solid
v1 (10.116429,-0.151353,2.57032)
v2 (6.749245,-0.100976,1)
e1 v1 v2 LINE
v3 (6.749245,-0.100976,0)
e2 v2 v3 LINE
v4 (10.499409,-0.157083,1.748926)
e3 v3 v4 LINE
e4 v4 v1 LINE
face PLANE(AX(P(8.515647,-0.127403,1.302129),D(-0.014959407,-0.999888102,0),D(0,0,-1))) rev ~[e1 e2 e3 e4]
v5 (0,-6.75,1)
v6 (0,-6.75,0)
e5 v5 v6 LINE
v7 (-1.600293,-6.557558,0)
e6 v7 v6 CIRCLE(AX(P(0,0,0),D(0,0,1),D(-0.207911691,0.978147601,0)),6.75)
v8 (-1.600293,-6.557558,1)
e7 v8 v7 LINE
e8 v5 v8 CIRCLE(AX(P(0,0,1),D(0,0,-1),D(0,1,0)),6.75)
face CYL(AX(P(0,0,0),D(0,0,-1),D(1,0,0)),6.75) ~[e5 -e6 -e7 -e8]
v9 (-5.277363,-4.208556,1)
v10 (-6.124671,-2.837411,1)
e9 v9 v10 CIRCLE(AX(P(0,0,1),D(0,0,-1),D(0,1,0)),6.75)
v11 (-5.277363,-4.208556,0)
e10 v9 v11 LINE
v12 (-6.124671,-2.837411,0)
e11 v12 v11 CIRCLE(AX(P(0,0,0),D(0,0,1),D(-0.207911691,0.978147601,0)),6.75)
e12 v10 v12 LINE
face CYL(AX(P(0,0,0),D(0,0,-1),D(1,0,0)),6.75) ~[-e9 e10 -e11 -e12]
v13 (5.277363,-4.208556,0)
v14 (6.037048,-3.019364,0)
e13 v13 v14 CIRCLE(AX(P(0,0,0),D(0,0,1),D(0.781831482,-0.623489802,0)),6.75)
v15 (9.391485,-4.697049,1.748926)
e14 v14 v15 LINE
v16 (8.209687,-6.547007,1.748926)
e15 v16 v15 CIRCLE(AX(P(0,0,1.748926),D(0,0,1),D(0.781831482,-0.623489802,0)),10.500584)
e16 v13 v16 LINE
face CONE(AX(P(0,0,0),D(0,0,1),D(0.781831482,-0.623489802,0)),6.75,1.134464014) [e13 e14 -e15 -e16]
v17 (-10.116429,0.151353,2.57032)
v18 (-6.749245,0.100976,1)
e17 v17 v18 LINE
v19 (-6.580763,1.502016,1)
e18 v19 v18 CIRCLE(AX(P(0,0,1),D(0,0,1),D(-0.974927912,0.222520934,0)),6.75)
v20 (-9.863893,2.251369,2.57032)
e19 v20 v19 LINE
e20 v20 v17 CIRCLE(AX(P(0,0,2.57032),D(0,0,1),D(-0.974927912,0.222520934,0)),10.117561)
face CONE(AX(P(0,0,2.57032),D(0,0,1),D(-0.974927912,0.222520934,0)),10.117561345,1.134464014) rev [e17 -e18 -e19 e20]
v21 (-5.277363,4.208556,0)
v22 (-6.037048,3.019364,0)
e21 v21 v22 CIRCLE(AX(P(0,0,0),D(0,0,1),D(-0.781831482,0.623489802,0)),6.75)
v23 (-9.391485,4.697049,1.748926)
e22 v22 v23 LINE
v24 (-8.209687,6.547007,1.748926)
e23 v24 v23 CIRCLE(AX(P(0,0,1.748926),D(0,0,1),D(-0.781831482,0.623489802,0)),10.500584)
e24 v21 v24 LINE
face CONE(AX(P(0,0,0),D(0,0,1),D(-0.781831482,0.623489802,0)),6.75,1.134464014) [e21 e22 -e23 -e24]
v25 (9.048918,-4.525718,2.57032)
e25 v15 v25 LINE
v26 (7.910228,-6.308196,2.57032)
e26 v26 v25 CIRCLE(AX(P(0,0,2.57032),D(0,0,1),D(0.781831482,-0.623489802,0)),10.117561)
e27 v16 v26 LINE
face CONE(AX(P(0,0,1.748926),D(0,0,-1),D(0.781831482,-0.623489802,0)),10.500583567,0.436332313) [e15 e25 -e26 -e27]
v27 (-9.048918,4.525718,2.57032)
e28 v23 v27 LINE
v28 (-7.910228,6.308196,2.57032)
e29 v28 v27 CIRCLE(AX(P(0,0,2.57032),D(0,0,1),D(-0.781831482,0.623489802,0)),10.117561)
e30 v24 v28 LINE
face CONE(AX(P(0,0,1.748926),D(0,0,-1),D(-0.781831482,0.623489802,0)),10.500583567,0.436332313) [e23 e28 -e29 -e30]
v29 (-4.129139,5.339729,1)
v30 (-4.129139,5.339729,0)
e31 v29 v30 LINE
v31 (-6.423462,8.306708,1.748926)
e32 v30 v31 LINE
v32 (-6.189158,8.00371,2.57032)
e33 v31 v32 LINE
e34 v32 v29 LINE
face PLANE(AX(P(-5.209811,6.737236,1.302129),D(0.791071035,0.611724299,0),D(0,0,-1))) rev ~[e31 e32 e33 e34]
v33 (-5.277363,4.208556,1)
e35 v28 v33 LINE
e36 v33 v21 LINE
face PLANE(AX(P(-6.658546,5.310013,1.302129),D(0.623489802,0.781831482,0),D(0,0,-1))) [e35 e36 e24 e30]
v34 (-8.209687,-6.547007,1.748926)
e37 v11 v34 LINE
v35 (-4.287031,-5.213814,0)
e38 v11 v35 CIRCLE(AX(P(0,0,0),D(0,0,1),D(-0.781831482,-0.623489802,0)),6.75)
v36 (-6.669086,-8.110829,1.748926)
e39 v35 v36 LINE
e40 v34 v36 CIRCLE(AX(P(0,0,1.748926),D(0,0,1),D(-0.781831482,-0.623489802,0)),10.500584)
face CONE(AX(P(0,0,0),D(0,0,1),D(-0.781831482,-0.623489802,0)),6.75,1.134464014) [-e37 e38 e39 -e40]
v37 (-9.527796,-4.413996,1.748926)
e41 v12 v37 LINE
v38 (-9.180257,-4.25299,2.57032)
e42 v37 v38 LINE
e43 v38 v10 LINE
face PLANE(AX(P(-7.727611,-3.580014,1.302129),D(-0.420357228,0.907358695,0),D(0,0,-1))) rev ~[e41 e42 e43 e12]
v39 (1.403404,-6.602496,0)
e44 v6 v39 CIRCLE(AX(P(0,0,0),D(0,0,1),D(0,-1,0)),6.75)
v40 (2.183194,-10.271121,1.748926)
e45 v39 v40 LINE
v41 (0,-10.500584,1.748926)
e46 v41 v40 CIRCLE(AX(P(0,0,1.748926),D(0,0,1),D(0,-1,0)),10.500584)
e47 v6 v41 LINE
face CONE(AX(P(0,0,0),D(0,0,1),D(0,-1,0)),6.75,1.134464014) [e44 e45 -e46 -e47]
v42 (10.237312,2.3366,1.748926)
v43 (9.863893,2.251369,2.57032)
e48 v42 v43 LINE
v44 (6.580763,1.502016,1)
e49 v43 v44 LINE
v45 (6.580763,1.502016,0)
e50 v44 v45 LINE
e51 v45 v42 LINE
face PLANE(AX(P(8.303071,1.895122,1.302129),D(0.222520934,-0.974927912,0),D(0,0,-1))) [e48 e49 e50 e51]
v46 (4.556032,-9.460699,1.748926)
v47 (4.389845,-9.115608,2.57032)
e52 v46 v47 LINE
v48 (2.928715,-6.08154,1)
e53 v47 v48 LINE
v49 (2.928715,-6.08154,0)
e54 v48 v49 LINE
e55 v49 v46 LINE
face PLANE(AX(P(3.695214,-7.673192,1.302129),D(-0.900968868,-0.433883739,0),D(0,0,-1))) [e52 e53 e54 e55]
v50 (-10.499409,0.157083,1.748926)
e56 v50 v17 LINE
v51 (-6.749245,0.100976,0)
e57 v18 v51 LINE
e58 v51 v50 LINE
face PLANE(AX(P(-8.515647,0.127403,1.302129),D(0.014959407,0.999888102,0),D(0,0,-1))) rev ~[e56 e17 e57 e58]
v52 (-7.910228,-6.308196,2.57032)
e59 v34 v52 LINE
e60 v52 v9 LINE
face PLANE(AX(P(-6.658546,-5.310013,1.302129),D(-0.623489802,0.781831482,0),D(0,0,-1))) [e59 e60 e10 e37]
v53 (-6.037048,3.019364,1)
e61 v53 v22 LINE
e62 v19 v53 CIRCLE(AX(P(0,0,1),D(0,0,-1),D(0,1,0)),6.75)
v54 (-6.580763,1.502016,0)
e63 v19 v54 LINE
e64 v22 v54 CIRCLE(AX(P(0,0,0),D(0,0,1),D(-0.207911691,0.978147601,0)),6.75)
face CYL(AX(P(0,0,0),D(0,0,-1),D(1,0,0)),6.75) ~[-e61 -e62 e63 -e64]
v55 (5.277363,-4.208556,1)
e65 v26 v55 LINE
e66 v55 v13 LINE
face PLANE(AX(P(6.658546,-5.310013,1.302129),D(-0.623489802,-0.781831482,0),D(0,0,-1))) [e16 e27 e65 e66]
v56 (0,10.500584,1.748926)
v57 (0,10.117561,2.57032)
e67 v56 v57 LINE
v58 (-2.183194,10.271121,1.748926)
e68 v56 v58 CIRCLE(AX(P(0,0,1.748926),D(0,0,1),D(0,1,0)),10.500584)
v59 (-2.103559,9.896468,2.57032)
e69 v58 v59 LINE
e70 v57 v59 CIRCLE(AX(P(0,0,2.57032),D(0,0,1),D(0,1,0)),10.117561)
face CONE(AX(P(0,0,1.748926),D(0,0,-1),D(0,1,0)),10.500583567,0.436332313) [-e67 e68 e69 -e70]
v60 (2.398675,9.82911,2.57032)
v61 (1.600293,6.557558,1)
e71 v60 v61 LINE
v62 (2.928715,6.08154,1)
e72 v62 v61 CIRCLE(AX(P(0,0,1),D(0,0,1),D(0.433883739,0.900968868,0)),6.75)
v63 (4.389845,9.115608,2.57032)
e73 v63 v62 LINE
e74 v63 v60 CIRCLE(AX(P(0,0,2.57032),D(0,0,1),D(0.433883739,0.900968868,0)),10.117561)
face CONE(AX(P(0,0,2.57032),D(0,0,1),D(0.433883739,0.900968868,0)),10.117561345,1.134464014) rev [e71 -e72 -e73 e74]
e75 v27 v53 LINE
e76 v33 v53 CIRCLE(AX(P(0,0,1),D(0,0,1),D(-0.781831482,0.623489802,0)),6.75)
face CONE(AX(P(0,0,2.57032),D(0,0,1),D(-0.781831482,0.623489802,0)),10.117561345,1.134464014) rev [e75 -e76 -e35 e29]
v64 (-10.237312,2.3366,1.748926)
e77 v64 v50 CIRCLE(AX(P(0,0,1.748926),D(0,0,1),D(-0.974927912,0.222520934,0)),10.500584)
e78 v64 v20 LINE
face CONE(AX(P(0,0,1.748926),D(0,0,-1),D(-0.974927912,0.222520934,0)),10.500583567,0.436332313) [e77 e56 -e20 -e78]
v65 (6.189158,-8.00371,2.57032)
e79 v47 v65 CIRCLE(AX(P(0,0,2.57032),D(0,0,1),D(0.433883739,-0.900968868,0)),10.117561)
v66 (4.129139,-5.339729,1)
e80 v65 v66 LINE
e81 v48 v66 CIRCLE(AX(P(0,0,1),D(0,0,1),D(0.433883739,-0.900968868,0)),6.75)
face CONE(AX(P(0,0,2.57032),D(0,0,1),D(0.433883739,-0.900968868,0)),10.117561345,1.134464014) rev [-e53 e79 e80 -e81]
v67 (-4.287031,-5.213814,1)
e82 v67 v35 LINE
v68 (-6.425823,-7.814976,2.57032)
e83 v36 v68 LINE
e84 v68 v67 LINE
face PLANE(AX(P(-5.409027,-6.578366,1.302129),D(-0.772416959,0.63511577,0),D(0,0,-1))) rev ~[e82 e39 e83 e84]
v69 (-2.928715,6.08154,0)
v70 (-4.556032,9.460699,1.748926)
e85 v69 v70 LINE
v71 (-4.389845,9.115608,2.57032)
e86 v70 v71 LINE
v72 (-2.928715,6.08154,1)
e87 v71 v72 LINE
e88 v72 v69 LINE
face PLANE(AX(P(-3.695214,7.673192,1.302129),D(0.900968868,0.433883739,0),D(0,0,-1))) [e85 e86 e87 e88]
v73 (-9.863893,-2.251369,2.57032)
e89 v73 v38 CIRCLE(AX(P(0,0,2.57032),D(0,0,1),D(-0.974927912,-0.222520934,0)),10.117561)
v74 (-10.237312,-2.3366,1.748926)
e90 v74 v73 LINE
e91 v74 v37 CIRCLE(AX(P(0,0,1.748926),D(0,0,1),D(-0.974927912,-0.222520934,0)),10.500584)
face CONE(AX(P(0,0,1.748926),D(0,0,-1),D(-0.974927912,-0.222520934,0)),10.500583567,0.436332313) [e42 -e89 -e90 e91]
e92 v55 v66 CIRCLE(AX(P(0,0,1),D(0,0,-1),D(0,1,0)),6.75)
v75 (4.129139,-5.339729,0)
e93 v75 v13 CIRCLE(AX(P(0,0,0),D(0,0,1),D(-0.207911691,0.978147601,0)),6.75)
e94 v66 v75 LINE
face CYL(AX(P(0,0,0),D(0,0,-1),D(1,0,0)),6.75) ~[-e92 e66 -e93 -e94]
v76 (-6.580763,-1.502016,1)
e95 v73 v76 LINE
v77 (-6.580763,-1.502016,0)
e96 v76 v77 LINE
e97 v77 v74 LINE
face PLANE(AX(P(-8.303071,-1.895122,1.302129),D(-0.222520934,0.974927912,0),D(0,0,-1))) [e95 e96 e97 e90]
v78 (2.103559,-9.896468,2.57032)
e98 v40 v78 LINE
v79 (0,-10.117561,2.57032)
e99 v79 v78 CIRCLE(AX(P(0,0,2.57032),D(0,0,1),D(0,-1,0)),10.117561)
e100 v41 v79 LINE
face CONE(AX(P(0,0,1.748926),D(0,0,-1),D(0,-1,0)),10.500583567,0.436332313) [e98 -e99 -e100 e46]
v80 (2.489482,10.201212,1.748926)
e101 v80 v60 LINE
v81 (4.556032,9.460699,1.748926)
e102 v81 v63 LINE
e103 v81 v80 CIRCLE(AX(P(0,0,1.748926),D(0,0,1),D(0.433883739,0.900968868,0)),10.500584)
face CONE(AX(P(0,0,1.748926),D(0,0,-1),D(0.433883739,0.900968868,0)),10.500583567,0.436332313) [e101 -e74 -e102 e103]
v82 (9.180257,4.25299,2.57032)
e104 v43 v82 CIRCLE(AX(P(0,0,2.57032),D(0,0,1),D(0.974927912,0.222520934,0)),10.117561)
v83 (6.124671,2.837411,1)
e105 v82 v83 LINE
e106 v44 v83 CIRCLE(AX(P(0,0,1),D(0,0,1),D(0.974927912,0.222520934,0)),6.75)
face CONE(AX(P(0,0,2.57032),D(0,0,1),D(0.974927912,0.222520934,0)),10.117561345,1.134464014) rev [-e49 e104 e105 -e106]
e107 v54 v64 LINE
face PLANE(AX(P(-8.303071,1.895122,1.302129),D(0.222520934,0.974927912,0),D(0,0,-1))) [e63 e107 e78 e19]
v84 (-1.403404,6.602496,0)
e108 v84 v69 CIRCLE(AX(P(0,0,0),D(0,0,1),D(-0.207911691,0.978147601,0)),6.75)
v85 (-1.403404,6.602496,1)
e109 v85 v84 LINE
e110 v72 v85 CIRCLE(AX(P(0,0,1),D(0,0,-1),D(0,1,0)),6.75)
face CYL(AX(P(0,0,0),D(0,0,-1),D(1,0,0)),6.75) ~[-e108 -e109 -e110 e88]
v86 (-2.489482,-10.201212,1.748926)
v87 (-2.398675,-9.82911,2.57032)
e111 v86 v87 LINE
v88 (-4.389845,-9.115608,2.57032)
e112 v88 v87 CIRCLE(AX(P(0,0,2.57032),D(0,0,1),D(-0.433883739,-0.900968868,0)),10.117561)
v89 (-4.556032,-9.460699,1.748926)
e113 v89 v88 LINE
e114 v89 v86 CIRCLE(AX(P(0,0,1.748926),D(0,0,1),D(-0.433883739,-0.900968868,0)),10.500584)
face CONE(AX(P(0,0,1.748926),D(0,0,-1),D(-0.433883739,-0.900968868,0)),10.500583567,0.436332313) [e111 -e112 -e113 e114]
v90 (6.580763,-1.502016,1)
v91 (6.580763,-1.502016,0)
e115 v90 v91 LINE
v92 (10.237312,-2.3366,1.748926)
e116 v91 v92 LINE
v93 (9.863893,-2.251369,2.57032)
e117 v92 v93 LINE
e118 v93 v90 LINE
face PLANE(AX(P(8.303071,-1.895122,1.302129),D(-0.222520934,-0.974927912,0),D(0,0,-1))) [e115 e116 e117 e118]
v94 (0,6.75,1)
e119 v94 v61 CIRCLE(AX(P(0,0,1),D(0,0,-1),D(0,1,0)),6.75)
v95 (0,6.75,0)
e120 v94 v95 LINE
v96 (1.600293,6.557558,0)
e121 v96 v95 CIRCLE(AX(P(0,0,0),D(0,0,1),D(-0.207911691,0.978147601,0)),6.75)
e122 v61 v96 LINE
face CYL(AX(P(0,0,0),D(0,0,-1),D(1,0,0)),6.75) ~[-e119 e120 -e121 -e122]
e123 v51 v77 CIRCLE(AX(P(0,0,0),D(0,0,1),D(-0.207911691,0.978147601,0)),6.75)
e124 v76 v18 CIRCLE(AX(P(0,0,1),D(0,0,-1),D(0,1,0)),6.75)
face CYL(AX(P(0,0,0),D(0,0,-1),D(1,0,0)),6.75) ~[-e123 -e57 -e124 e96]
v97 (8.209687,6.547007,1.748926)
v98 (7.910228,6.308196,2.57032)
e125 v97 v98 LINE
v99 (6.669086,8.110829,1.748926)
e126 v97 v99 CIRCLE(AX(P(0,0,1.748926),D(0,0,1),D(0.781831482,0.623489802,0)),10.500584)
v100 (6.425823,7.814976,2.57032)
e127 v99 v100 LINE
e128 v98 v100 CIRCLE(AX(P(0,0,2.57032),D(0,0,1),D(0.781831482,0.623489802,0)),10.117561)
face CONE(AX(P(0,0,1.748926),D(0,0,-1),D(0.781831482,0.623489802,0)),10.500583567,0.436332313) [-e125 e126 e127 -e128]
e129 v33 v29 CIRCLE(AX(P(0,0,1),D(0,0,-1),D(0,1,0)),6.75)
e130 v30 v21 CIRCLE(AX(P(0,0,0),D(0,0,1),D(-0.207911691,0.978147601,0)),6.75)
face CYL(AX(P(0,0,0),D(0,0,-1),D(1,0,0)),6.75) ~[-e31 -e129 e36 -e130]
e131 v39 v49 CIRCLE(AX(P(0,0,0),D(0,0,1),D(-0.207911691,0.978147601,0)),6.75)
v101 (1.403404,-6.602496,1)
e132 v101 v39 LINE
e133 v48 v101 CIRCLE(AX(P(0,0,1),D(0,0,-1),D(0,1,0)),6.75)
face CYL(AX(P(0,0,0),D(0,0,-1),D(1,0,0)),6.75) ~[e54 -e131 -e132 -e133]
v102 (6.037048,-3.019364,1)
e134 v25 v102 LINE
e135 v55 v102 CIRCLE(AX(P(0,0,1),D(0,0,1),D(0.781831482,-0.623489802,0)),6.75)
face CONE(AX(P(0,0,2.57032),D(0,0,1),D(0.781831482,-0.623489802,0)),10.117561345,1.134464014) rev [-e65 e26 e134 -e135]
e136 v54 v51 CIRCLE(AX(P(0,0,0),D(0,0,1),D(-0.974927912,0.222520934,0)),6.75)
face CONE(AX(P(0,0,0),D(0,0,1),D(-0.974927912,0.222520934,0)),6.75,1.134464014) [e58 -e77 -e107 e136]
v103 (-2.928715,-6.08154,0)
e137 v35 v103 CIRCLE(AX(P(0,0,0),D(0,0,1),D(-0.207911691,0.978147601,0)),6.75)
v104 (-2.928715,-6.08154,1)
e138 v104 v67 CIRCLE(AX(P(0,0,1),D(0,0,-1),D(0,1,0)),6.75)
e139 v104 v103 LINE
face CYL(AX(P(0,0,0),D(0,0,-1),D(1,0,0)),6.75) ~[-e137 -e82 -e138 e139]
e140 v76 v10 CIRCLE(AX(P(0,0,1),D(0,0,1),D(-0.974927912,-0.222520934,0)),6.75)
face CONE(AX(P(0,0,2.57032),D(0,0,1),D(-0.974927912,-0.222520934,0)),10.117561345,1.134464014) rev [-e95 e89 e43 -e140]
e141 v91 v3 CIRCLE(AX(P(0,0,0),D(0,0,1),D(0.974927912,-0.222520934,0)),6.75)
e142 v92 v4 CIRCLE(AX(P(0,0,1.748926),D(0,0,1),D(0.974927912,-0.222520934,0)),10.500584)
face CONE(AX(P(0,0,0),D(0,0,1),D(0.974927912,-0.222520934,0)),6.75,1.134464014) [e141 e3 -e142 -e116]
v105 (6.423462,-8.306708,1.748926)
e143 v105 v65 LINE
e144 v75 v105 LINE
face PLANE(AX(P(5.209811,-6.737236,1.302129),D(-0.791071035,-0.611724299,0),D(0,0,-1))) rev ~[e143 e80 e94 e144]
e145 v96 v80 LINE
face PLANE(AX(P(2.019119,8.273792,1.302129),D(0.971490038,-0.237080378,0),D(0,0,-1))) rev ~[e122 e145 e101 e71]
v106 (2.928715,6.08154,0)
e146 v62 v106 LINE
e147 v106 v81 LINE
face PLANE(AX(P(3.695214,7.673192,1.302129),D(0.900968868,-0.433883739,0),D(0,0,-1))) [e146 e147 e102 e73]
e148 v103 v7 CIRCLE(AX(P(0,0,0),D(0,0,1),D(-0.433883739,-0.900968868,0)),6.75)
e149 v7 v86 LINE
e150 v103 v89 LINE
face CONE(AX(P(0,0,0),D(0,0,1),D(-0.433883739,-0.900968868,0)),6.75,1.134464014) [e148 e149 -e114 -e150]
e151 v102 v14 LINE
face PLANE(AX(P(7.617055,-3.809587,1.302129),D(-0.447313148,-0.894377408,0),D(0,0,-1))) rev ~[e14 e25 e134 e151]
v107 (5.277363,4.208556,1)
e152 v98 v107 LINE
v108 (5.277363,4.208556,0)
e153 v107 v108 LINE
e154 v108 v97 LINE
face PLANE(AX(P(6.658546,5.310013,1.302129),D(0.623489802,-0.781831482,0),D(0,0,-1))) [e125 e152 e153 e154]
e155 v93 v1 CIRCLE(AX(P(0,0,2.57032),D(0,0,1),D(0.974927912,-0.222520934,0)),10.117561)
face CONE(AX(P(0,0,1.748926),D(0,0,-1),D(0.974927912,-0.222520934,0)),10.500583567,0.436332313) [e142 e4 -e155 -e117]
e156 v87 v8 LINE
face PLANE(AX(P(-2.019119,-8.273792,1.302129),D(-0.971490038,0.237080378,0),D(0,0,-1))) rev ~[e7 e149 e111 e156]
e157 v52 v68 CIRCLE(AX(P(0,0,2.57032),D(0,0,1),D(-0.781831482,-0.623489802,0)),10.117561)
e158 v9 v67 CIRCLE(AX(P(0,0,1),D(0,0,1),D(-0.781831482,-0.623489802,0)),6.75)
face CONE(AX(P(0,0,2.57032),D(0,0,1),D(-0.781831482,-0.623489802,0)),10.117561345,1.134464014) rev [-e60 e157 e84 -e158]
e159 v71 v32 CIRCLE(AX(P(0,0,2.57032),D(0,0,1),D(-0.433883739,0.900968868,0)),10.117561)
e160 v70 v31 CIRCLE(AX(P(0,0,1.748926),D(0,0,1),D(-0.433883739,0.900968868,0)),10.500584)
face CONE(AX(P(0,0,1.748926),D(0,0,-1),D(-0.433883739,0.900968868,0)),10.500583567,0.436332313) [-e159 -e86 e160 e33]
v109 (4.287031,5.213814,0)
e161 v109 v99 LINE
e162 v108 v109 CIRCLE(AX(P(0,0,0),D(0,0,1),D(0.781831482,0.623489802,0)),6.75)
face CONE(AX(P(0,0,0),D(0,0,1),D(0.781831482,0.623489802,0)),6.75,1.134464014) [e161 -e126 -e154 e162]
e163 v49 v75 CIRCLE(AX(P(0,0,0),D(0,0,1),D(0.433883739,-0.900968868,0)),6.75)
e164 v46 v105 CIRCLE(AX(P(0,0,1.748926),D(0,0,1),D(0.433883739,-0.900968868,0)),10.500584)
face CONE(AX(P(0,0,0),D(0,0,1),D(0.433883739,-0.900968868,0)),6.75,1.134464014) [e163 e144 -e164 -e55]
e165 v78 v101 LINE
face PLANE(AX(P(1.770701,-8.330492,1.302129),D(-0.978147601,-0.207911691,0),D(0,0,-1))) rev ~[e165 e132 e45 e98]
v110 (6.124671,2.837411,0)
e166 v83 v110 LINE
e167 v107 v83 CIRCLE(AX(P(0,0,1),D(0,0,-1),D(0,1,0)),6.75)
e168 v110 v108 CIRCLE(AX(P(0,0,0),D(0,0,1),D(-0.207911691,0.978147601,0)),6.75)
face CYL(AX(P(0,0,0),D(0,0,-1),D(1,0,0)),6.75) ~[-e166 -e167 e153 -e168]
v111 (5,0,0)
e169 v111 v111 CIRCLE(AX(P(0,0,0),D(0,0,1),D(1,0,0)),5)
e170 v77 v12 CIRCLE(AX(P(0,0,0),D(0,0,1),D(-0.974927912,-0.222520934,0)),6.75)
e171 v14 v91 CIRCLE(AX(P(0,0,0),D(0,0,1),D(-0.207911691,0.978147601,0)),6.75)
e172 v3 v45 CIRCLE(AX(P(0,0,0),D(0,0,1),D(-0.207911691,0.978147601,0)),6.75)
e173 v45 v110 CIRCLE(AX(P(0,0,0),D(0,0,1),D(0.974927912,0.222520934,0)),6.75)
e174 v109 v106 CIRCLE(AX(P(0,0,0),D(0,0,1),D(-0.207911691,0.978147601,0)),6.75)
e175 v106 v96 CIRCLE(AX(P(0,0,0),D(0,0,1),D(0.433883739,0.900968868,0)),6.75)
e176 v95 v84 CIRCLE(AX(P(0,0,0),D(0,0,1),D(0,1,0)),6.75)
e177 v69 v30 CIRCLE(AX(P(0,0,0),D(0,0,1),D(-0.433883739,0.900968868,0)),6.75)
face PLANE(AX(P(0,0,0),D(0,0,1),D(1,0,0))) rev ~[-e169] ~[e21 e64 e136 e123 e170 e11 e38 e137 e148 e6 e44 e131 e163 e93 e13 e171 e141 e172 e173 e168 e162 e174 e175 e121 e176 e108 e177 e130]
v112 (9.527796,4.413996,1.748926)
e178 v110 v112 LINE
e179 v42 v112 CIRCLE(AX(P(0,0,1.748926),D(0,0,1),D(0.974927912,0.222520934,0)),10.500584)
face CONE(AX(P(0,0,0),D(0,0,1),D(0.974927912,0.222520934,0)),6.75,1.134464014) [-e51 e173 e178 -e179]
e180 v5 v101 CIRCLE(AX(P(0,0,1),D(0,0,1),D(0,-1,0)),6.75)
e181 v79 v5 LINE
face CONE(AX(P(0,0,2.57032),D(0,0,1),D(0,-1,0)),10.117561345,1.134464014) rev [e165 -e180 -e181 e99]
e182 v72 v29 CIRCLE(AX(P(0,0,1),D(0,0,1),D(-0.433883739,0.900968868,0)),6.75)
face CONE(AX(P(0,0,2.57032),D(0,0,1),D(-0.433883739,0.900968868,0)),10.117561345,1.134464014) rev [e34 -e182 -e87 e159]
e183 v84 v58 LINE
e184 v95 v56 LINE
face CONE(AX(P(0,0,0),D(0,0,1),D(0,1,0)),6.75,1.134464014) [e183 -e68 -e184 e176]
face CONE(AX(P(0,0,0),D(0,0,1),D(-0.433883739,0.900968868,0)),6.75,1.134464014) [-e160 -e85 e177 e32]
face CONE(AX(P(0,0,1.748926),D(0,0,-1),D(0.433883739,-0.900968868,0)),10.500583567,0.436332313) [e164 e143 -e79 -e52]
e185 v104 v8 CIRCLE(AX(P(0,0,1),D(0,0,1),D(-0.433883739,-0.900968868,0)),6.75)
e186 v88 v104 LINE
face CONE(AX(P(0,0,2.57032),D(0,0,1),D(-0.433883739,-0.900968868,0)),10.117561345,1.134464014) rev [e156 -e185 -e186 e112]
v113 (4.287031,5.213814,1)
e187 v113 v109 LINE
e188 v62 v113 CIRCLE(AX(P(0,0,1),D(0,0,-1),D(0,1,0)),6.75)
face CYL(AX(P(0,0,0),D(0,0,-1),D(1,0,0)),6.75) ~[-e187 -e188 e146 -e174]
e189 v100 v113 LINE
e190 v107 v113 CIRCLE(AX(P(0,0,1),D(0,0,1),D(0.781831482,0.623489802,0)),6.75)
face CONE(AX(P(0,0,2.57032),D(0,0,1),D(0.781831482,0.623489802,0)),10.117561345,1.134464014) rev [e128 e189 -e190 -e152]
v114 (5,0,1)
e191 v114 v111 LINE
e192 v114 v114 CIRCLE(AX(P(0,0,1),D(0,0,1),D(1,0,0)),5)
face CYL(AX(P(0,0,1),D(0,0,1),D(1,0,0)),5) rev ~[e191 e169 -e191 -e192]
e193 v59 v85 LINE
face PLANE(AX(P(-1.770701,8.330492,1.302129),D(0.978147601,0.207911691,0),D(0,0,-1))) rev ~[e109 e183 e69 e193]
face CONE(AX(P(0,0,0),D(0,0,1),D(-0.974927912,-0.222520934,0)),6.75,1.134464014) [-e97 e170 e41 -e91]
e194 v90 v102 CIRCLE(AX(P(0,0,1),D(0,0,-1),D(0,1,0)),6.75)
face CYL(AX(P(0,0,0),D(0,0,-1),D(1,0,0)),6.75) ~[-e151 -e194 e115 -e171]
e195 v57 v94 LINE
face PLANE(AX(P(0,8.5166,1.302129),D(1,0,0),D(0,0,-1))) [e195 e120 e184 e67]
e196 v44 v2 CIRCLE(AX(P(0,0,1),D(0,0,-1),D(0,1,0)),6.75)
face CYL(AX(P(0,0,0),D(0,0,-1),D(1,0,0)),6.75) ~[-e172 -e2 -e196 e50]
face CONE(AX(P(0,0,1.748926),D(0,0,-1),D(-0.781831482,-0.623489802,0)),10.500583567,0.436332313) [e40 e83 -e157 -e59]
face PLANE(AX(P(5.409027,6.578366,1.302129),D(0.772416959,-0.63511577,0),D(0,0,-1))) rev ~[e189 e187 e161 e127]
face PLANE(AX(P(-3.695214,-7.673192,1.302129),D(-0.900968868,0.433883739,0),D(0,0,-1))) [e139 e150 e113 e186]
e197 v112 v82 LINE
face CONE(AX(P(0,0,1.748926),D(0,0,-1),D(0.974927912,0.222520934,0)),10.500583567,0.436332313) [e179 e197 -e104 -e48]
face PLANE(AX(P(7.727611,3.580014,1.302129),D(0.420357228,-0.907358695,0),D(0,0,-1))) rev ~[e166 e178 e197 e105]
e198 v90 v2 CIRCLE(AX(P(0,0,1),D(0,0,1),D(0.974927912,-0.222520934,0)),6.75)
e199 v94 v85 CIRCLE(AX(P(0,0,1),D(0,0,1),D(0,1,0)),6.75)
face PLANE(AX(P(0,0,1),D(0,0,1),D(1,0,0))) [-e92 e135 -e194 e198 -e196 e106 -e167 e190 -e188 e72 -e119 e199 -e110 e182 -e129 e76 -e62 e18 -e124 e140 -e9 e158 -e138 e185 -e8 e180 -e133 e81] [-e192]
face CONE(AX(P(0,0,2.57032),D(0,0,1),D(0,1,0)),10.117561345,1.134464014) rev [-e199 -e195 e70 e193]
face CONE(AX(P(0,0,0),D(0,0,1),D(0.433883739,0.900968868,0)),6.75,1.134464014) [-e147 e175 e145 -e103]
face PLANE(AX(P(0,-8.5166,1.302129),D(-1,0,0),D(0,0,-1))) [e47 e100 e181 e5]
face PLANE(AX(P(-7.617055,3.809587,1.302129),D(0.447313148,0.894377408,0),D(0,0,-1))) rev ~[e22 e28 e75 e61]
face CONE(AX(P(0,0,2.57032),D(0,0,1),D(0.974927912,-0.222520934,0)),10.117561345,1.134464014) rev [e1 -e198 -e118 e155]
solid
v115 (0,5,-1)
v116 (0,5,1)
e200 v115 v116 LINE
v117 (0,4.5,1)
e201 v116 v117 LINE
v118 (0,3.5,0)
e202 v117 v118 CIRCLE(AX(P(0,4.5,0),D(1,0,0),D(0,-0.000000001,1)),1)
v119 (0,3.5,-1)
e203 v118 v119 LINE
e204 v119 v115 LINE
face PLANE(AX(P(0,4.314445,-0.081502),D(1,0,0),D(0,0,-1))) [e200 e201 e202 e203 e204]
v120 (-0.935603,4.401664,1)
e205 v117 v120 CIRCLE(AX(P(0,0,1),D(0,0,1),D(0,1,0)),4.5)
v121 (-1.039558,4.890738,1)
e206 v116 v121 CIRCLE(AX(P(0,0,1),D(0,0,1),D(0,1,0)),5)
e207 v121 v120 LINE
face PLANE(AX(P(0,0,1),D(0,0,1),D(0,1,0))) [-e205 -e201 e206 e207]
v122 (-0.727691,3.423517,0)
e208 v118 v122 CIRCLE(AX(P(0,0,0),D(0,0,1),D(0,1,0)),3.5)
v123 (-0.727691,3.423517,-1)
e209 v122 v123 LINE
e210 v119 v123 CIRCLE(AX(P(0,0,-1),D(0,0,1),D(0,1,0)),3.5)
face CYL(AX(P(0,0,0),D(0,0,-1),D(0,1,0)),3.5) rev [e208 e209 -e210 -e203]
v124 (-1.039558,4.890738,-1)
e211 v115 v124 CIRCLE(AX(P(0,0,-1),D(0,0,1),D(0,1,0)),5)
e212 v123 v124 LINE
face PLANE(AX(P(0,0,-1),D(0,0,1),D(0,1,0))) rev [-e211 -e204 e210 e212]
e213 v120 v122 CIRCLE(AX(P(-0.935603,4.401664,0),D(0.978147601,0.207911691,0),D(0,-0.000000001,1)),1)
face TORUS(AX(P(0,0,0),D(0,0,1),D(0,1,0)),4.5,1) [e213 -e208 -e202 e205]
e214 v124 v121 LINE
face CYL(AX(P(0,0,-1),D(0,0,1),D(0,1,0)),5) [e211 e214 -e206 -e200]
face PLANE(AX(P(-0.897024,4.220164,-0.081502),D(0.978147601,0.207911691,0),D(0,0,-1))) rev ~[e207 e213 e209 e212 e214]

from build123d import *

# Parameters (mm, degrees)
SKETCH1_R           = 6.75
BOSS_EXTRUDE1_DEPTH = 1
SKETCH2_R           = 5
CUT_EXTRUDE1_DEPTH  = 1
REVOLVE3_ANGLE      = 12
CIRPATTERN1_COUNT   = 14
REVOLVE4_ANGLE      = 12


with BuildPart() as part:
    # Sketch1 → Boss-Extrude1 (new body)
    with BuildSketch(Plane.XY):
        Circle(SKETCH1_R)
    extrude(amount=BOSS_EXTRUDE1_DEPTH)

    # Sketch2 → Cut-Extrude1 (cut)
    with BuildSketch(Plane.XY.offset(1)):
        Circle(SKETCH2_R)
    extrude(amount=-CUT_EXTRUDE1_DEPTH, mode=Mode.SUBTRACT)

    # Sketch3 → Revolve3 (revolve)
    with BuildSketch(Plane(origin=(0, 0, 0), x_dir=(0, 0, -1), z_dir=(1, 0, 0))):
        Polygon((0, 6.75), (-1.74892584, 10.500583567), (-2.570319645, 10.117561345), (-1, 6.75), align=None)
    revolve3 = revolve(axis=Axis((0, 0, -0.128515982), (0, 0, 1)), revolution_arc=REVOLVE3_ANGLE)

    # CirPattern1: Revolve3 ×14 about axis
    cirpattern1_axis = Axis((0, 0, 0), (0, 0, 1))
    for i in range(1, CIRPATTERN1_COUNT):
        add(revolve3.rotate(cirpattern1_axis, i * 360 / CIRPATTERN1_COUNT))


with BuildPart() as body_2:
    # Sketch4 → Revolve4 (revolve)
    with BuildSketch(Plane(origin=(0, 0, 0), x_dir=(0, 0, -1), z_dir=(1, 0, 0))):
        with BuildLine():
            Line((0, 3.5), (1, 3.5))
            Line((1, 3.5), (1, 5))
            Line((1, 5), (-1, 5))
            Line((-1, 5), (-1, 4.5))
            ThreePointArc((-1, 4.5), (-0.707106781, 3.792893219), (0, 3.5))
        make_face()
    revolve(axis=Axis((0, 0, -0.128515982), (0, 0, 1)), revolution_arc=REVOLVE4_ANGLE)


solid = Compound([part.part, body_2.part])
